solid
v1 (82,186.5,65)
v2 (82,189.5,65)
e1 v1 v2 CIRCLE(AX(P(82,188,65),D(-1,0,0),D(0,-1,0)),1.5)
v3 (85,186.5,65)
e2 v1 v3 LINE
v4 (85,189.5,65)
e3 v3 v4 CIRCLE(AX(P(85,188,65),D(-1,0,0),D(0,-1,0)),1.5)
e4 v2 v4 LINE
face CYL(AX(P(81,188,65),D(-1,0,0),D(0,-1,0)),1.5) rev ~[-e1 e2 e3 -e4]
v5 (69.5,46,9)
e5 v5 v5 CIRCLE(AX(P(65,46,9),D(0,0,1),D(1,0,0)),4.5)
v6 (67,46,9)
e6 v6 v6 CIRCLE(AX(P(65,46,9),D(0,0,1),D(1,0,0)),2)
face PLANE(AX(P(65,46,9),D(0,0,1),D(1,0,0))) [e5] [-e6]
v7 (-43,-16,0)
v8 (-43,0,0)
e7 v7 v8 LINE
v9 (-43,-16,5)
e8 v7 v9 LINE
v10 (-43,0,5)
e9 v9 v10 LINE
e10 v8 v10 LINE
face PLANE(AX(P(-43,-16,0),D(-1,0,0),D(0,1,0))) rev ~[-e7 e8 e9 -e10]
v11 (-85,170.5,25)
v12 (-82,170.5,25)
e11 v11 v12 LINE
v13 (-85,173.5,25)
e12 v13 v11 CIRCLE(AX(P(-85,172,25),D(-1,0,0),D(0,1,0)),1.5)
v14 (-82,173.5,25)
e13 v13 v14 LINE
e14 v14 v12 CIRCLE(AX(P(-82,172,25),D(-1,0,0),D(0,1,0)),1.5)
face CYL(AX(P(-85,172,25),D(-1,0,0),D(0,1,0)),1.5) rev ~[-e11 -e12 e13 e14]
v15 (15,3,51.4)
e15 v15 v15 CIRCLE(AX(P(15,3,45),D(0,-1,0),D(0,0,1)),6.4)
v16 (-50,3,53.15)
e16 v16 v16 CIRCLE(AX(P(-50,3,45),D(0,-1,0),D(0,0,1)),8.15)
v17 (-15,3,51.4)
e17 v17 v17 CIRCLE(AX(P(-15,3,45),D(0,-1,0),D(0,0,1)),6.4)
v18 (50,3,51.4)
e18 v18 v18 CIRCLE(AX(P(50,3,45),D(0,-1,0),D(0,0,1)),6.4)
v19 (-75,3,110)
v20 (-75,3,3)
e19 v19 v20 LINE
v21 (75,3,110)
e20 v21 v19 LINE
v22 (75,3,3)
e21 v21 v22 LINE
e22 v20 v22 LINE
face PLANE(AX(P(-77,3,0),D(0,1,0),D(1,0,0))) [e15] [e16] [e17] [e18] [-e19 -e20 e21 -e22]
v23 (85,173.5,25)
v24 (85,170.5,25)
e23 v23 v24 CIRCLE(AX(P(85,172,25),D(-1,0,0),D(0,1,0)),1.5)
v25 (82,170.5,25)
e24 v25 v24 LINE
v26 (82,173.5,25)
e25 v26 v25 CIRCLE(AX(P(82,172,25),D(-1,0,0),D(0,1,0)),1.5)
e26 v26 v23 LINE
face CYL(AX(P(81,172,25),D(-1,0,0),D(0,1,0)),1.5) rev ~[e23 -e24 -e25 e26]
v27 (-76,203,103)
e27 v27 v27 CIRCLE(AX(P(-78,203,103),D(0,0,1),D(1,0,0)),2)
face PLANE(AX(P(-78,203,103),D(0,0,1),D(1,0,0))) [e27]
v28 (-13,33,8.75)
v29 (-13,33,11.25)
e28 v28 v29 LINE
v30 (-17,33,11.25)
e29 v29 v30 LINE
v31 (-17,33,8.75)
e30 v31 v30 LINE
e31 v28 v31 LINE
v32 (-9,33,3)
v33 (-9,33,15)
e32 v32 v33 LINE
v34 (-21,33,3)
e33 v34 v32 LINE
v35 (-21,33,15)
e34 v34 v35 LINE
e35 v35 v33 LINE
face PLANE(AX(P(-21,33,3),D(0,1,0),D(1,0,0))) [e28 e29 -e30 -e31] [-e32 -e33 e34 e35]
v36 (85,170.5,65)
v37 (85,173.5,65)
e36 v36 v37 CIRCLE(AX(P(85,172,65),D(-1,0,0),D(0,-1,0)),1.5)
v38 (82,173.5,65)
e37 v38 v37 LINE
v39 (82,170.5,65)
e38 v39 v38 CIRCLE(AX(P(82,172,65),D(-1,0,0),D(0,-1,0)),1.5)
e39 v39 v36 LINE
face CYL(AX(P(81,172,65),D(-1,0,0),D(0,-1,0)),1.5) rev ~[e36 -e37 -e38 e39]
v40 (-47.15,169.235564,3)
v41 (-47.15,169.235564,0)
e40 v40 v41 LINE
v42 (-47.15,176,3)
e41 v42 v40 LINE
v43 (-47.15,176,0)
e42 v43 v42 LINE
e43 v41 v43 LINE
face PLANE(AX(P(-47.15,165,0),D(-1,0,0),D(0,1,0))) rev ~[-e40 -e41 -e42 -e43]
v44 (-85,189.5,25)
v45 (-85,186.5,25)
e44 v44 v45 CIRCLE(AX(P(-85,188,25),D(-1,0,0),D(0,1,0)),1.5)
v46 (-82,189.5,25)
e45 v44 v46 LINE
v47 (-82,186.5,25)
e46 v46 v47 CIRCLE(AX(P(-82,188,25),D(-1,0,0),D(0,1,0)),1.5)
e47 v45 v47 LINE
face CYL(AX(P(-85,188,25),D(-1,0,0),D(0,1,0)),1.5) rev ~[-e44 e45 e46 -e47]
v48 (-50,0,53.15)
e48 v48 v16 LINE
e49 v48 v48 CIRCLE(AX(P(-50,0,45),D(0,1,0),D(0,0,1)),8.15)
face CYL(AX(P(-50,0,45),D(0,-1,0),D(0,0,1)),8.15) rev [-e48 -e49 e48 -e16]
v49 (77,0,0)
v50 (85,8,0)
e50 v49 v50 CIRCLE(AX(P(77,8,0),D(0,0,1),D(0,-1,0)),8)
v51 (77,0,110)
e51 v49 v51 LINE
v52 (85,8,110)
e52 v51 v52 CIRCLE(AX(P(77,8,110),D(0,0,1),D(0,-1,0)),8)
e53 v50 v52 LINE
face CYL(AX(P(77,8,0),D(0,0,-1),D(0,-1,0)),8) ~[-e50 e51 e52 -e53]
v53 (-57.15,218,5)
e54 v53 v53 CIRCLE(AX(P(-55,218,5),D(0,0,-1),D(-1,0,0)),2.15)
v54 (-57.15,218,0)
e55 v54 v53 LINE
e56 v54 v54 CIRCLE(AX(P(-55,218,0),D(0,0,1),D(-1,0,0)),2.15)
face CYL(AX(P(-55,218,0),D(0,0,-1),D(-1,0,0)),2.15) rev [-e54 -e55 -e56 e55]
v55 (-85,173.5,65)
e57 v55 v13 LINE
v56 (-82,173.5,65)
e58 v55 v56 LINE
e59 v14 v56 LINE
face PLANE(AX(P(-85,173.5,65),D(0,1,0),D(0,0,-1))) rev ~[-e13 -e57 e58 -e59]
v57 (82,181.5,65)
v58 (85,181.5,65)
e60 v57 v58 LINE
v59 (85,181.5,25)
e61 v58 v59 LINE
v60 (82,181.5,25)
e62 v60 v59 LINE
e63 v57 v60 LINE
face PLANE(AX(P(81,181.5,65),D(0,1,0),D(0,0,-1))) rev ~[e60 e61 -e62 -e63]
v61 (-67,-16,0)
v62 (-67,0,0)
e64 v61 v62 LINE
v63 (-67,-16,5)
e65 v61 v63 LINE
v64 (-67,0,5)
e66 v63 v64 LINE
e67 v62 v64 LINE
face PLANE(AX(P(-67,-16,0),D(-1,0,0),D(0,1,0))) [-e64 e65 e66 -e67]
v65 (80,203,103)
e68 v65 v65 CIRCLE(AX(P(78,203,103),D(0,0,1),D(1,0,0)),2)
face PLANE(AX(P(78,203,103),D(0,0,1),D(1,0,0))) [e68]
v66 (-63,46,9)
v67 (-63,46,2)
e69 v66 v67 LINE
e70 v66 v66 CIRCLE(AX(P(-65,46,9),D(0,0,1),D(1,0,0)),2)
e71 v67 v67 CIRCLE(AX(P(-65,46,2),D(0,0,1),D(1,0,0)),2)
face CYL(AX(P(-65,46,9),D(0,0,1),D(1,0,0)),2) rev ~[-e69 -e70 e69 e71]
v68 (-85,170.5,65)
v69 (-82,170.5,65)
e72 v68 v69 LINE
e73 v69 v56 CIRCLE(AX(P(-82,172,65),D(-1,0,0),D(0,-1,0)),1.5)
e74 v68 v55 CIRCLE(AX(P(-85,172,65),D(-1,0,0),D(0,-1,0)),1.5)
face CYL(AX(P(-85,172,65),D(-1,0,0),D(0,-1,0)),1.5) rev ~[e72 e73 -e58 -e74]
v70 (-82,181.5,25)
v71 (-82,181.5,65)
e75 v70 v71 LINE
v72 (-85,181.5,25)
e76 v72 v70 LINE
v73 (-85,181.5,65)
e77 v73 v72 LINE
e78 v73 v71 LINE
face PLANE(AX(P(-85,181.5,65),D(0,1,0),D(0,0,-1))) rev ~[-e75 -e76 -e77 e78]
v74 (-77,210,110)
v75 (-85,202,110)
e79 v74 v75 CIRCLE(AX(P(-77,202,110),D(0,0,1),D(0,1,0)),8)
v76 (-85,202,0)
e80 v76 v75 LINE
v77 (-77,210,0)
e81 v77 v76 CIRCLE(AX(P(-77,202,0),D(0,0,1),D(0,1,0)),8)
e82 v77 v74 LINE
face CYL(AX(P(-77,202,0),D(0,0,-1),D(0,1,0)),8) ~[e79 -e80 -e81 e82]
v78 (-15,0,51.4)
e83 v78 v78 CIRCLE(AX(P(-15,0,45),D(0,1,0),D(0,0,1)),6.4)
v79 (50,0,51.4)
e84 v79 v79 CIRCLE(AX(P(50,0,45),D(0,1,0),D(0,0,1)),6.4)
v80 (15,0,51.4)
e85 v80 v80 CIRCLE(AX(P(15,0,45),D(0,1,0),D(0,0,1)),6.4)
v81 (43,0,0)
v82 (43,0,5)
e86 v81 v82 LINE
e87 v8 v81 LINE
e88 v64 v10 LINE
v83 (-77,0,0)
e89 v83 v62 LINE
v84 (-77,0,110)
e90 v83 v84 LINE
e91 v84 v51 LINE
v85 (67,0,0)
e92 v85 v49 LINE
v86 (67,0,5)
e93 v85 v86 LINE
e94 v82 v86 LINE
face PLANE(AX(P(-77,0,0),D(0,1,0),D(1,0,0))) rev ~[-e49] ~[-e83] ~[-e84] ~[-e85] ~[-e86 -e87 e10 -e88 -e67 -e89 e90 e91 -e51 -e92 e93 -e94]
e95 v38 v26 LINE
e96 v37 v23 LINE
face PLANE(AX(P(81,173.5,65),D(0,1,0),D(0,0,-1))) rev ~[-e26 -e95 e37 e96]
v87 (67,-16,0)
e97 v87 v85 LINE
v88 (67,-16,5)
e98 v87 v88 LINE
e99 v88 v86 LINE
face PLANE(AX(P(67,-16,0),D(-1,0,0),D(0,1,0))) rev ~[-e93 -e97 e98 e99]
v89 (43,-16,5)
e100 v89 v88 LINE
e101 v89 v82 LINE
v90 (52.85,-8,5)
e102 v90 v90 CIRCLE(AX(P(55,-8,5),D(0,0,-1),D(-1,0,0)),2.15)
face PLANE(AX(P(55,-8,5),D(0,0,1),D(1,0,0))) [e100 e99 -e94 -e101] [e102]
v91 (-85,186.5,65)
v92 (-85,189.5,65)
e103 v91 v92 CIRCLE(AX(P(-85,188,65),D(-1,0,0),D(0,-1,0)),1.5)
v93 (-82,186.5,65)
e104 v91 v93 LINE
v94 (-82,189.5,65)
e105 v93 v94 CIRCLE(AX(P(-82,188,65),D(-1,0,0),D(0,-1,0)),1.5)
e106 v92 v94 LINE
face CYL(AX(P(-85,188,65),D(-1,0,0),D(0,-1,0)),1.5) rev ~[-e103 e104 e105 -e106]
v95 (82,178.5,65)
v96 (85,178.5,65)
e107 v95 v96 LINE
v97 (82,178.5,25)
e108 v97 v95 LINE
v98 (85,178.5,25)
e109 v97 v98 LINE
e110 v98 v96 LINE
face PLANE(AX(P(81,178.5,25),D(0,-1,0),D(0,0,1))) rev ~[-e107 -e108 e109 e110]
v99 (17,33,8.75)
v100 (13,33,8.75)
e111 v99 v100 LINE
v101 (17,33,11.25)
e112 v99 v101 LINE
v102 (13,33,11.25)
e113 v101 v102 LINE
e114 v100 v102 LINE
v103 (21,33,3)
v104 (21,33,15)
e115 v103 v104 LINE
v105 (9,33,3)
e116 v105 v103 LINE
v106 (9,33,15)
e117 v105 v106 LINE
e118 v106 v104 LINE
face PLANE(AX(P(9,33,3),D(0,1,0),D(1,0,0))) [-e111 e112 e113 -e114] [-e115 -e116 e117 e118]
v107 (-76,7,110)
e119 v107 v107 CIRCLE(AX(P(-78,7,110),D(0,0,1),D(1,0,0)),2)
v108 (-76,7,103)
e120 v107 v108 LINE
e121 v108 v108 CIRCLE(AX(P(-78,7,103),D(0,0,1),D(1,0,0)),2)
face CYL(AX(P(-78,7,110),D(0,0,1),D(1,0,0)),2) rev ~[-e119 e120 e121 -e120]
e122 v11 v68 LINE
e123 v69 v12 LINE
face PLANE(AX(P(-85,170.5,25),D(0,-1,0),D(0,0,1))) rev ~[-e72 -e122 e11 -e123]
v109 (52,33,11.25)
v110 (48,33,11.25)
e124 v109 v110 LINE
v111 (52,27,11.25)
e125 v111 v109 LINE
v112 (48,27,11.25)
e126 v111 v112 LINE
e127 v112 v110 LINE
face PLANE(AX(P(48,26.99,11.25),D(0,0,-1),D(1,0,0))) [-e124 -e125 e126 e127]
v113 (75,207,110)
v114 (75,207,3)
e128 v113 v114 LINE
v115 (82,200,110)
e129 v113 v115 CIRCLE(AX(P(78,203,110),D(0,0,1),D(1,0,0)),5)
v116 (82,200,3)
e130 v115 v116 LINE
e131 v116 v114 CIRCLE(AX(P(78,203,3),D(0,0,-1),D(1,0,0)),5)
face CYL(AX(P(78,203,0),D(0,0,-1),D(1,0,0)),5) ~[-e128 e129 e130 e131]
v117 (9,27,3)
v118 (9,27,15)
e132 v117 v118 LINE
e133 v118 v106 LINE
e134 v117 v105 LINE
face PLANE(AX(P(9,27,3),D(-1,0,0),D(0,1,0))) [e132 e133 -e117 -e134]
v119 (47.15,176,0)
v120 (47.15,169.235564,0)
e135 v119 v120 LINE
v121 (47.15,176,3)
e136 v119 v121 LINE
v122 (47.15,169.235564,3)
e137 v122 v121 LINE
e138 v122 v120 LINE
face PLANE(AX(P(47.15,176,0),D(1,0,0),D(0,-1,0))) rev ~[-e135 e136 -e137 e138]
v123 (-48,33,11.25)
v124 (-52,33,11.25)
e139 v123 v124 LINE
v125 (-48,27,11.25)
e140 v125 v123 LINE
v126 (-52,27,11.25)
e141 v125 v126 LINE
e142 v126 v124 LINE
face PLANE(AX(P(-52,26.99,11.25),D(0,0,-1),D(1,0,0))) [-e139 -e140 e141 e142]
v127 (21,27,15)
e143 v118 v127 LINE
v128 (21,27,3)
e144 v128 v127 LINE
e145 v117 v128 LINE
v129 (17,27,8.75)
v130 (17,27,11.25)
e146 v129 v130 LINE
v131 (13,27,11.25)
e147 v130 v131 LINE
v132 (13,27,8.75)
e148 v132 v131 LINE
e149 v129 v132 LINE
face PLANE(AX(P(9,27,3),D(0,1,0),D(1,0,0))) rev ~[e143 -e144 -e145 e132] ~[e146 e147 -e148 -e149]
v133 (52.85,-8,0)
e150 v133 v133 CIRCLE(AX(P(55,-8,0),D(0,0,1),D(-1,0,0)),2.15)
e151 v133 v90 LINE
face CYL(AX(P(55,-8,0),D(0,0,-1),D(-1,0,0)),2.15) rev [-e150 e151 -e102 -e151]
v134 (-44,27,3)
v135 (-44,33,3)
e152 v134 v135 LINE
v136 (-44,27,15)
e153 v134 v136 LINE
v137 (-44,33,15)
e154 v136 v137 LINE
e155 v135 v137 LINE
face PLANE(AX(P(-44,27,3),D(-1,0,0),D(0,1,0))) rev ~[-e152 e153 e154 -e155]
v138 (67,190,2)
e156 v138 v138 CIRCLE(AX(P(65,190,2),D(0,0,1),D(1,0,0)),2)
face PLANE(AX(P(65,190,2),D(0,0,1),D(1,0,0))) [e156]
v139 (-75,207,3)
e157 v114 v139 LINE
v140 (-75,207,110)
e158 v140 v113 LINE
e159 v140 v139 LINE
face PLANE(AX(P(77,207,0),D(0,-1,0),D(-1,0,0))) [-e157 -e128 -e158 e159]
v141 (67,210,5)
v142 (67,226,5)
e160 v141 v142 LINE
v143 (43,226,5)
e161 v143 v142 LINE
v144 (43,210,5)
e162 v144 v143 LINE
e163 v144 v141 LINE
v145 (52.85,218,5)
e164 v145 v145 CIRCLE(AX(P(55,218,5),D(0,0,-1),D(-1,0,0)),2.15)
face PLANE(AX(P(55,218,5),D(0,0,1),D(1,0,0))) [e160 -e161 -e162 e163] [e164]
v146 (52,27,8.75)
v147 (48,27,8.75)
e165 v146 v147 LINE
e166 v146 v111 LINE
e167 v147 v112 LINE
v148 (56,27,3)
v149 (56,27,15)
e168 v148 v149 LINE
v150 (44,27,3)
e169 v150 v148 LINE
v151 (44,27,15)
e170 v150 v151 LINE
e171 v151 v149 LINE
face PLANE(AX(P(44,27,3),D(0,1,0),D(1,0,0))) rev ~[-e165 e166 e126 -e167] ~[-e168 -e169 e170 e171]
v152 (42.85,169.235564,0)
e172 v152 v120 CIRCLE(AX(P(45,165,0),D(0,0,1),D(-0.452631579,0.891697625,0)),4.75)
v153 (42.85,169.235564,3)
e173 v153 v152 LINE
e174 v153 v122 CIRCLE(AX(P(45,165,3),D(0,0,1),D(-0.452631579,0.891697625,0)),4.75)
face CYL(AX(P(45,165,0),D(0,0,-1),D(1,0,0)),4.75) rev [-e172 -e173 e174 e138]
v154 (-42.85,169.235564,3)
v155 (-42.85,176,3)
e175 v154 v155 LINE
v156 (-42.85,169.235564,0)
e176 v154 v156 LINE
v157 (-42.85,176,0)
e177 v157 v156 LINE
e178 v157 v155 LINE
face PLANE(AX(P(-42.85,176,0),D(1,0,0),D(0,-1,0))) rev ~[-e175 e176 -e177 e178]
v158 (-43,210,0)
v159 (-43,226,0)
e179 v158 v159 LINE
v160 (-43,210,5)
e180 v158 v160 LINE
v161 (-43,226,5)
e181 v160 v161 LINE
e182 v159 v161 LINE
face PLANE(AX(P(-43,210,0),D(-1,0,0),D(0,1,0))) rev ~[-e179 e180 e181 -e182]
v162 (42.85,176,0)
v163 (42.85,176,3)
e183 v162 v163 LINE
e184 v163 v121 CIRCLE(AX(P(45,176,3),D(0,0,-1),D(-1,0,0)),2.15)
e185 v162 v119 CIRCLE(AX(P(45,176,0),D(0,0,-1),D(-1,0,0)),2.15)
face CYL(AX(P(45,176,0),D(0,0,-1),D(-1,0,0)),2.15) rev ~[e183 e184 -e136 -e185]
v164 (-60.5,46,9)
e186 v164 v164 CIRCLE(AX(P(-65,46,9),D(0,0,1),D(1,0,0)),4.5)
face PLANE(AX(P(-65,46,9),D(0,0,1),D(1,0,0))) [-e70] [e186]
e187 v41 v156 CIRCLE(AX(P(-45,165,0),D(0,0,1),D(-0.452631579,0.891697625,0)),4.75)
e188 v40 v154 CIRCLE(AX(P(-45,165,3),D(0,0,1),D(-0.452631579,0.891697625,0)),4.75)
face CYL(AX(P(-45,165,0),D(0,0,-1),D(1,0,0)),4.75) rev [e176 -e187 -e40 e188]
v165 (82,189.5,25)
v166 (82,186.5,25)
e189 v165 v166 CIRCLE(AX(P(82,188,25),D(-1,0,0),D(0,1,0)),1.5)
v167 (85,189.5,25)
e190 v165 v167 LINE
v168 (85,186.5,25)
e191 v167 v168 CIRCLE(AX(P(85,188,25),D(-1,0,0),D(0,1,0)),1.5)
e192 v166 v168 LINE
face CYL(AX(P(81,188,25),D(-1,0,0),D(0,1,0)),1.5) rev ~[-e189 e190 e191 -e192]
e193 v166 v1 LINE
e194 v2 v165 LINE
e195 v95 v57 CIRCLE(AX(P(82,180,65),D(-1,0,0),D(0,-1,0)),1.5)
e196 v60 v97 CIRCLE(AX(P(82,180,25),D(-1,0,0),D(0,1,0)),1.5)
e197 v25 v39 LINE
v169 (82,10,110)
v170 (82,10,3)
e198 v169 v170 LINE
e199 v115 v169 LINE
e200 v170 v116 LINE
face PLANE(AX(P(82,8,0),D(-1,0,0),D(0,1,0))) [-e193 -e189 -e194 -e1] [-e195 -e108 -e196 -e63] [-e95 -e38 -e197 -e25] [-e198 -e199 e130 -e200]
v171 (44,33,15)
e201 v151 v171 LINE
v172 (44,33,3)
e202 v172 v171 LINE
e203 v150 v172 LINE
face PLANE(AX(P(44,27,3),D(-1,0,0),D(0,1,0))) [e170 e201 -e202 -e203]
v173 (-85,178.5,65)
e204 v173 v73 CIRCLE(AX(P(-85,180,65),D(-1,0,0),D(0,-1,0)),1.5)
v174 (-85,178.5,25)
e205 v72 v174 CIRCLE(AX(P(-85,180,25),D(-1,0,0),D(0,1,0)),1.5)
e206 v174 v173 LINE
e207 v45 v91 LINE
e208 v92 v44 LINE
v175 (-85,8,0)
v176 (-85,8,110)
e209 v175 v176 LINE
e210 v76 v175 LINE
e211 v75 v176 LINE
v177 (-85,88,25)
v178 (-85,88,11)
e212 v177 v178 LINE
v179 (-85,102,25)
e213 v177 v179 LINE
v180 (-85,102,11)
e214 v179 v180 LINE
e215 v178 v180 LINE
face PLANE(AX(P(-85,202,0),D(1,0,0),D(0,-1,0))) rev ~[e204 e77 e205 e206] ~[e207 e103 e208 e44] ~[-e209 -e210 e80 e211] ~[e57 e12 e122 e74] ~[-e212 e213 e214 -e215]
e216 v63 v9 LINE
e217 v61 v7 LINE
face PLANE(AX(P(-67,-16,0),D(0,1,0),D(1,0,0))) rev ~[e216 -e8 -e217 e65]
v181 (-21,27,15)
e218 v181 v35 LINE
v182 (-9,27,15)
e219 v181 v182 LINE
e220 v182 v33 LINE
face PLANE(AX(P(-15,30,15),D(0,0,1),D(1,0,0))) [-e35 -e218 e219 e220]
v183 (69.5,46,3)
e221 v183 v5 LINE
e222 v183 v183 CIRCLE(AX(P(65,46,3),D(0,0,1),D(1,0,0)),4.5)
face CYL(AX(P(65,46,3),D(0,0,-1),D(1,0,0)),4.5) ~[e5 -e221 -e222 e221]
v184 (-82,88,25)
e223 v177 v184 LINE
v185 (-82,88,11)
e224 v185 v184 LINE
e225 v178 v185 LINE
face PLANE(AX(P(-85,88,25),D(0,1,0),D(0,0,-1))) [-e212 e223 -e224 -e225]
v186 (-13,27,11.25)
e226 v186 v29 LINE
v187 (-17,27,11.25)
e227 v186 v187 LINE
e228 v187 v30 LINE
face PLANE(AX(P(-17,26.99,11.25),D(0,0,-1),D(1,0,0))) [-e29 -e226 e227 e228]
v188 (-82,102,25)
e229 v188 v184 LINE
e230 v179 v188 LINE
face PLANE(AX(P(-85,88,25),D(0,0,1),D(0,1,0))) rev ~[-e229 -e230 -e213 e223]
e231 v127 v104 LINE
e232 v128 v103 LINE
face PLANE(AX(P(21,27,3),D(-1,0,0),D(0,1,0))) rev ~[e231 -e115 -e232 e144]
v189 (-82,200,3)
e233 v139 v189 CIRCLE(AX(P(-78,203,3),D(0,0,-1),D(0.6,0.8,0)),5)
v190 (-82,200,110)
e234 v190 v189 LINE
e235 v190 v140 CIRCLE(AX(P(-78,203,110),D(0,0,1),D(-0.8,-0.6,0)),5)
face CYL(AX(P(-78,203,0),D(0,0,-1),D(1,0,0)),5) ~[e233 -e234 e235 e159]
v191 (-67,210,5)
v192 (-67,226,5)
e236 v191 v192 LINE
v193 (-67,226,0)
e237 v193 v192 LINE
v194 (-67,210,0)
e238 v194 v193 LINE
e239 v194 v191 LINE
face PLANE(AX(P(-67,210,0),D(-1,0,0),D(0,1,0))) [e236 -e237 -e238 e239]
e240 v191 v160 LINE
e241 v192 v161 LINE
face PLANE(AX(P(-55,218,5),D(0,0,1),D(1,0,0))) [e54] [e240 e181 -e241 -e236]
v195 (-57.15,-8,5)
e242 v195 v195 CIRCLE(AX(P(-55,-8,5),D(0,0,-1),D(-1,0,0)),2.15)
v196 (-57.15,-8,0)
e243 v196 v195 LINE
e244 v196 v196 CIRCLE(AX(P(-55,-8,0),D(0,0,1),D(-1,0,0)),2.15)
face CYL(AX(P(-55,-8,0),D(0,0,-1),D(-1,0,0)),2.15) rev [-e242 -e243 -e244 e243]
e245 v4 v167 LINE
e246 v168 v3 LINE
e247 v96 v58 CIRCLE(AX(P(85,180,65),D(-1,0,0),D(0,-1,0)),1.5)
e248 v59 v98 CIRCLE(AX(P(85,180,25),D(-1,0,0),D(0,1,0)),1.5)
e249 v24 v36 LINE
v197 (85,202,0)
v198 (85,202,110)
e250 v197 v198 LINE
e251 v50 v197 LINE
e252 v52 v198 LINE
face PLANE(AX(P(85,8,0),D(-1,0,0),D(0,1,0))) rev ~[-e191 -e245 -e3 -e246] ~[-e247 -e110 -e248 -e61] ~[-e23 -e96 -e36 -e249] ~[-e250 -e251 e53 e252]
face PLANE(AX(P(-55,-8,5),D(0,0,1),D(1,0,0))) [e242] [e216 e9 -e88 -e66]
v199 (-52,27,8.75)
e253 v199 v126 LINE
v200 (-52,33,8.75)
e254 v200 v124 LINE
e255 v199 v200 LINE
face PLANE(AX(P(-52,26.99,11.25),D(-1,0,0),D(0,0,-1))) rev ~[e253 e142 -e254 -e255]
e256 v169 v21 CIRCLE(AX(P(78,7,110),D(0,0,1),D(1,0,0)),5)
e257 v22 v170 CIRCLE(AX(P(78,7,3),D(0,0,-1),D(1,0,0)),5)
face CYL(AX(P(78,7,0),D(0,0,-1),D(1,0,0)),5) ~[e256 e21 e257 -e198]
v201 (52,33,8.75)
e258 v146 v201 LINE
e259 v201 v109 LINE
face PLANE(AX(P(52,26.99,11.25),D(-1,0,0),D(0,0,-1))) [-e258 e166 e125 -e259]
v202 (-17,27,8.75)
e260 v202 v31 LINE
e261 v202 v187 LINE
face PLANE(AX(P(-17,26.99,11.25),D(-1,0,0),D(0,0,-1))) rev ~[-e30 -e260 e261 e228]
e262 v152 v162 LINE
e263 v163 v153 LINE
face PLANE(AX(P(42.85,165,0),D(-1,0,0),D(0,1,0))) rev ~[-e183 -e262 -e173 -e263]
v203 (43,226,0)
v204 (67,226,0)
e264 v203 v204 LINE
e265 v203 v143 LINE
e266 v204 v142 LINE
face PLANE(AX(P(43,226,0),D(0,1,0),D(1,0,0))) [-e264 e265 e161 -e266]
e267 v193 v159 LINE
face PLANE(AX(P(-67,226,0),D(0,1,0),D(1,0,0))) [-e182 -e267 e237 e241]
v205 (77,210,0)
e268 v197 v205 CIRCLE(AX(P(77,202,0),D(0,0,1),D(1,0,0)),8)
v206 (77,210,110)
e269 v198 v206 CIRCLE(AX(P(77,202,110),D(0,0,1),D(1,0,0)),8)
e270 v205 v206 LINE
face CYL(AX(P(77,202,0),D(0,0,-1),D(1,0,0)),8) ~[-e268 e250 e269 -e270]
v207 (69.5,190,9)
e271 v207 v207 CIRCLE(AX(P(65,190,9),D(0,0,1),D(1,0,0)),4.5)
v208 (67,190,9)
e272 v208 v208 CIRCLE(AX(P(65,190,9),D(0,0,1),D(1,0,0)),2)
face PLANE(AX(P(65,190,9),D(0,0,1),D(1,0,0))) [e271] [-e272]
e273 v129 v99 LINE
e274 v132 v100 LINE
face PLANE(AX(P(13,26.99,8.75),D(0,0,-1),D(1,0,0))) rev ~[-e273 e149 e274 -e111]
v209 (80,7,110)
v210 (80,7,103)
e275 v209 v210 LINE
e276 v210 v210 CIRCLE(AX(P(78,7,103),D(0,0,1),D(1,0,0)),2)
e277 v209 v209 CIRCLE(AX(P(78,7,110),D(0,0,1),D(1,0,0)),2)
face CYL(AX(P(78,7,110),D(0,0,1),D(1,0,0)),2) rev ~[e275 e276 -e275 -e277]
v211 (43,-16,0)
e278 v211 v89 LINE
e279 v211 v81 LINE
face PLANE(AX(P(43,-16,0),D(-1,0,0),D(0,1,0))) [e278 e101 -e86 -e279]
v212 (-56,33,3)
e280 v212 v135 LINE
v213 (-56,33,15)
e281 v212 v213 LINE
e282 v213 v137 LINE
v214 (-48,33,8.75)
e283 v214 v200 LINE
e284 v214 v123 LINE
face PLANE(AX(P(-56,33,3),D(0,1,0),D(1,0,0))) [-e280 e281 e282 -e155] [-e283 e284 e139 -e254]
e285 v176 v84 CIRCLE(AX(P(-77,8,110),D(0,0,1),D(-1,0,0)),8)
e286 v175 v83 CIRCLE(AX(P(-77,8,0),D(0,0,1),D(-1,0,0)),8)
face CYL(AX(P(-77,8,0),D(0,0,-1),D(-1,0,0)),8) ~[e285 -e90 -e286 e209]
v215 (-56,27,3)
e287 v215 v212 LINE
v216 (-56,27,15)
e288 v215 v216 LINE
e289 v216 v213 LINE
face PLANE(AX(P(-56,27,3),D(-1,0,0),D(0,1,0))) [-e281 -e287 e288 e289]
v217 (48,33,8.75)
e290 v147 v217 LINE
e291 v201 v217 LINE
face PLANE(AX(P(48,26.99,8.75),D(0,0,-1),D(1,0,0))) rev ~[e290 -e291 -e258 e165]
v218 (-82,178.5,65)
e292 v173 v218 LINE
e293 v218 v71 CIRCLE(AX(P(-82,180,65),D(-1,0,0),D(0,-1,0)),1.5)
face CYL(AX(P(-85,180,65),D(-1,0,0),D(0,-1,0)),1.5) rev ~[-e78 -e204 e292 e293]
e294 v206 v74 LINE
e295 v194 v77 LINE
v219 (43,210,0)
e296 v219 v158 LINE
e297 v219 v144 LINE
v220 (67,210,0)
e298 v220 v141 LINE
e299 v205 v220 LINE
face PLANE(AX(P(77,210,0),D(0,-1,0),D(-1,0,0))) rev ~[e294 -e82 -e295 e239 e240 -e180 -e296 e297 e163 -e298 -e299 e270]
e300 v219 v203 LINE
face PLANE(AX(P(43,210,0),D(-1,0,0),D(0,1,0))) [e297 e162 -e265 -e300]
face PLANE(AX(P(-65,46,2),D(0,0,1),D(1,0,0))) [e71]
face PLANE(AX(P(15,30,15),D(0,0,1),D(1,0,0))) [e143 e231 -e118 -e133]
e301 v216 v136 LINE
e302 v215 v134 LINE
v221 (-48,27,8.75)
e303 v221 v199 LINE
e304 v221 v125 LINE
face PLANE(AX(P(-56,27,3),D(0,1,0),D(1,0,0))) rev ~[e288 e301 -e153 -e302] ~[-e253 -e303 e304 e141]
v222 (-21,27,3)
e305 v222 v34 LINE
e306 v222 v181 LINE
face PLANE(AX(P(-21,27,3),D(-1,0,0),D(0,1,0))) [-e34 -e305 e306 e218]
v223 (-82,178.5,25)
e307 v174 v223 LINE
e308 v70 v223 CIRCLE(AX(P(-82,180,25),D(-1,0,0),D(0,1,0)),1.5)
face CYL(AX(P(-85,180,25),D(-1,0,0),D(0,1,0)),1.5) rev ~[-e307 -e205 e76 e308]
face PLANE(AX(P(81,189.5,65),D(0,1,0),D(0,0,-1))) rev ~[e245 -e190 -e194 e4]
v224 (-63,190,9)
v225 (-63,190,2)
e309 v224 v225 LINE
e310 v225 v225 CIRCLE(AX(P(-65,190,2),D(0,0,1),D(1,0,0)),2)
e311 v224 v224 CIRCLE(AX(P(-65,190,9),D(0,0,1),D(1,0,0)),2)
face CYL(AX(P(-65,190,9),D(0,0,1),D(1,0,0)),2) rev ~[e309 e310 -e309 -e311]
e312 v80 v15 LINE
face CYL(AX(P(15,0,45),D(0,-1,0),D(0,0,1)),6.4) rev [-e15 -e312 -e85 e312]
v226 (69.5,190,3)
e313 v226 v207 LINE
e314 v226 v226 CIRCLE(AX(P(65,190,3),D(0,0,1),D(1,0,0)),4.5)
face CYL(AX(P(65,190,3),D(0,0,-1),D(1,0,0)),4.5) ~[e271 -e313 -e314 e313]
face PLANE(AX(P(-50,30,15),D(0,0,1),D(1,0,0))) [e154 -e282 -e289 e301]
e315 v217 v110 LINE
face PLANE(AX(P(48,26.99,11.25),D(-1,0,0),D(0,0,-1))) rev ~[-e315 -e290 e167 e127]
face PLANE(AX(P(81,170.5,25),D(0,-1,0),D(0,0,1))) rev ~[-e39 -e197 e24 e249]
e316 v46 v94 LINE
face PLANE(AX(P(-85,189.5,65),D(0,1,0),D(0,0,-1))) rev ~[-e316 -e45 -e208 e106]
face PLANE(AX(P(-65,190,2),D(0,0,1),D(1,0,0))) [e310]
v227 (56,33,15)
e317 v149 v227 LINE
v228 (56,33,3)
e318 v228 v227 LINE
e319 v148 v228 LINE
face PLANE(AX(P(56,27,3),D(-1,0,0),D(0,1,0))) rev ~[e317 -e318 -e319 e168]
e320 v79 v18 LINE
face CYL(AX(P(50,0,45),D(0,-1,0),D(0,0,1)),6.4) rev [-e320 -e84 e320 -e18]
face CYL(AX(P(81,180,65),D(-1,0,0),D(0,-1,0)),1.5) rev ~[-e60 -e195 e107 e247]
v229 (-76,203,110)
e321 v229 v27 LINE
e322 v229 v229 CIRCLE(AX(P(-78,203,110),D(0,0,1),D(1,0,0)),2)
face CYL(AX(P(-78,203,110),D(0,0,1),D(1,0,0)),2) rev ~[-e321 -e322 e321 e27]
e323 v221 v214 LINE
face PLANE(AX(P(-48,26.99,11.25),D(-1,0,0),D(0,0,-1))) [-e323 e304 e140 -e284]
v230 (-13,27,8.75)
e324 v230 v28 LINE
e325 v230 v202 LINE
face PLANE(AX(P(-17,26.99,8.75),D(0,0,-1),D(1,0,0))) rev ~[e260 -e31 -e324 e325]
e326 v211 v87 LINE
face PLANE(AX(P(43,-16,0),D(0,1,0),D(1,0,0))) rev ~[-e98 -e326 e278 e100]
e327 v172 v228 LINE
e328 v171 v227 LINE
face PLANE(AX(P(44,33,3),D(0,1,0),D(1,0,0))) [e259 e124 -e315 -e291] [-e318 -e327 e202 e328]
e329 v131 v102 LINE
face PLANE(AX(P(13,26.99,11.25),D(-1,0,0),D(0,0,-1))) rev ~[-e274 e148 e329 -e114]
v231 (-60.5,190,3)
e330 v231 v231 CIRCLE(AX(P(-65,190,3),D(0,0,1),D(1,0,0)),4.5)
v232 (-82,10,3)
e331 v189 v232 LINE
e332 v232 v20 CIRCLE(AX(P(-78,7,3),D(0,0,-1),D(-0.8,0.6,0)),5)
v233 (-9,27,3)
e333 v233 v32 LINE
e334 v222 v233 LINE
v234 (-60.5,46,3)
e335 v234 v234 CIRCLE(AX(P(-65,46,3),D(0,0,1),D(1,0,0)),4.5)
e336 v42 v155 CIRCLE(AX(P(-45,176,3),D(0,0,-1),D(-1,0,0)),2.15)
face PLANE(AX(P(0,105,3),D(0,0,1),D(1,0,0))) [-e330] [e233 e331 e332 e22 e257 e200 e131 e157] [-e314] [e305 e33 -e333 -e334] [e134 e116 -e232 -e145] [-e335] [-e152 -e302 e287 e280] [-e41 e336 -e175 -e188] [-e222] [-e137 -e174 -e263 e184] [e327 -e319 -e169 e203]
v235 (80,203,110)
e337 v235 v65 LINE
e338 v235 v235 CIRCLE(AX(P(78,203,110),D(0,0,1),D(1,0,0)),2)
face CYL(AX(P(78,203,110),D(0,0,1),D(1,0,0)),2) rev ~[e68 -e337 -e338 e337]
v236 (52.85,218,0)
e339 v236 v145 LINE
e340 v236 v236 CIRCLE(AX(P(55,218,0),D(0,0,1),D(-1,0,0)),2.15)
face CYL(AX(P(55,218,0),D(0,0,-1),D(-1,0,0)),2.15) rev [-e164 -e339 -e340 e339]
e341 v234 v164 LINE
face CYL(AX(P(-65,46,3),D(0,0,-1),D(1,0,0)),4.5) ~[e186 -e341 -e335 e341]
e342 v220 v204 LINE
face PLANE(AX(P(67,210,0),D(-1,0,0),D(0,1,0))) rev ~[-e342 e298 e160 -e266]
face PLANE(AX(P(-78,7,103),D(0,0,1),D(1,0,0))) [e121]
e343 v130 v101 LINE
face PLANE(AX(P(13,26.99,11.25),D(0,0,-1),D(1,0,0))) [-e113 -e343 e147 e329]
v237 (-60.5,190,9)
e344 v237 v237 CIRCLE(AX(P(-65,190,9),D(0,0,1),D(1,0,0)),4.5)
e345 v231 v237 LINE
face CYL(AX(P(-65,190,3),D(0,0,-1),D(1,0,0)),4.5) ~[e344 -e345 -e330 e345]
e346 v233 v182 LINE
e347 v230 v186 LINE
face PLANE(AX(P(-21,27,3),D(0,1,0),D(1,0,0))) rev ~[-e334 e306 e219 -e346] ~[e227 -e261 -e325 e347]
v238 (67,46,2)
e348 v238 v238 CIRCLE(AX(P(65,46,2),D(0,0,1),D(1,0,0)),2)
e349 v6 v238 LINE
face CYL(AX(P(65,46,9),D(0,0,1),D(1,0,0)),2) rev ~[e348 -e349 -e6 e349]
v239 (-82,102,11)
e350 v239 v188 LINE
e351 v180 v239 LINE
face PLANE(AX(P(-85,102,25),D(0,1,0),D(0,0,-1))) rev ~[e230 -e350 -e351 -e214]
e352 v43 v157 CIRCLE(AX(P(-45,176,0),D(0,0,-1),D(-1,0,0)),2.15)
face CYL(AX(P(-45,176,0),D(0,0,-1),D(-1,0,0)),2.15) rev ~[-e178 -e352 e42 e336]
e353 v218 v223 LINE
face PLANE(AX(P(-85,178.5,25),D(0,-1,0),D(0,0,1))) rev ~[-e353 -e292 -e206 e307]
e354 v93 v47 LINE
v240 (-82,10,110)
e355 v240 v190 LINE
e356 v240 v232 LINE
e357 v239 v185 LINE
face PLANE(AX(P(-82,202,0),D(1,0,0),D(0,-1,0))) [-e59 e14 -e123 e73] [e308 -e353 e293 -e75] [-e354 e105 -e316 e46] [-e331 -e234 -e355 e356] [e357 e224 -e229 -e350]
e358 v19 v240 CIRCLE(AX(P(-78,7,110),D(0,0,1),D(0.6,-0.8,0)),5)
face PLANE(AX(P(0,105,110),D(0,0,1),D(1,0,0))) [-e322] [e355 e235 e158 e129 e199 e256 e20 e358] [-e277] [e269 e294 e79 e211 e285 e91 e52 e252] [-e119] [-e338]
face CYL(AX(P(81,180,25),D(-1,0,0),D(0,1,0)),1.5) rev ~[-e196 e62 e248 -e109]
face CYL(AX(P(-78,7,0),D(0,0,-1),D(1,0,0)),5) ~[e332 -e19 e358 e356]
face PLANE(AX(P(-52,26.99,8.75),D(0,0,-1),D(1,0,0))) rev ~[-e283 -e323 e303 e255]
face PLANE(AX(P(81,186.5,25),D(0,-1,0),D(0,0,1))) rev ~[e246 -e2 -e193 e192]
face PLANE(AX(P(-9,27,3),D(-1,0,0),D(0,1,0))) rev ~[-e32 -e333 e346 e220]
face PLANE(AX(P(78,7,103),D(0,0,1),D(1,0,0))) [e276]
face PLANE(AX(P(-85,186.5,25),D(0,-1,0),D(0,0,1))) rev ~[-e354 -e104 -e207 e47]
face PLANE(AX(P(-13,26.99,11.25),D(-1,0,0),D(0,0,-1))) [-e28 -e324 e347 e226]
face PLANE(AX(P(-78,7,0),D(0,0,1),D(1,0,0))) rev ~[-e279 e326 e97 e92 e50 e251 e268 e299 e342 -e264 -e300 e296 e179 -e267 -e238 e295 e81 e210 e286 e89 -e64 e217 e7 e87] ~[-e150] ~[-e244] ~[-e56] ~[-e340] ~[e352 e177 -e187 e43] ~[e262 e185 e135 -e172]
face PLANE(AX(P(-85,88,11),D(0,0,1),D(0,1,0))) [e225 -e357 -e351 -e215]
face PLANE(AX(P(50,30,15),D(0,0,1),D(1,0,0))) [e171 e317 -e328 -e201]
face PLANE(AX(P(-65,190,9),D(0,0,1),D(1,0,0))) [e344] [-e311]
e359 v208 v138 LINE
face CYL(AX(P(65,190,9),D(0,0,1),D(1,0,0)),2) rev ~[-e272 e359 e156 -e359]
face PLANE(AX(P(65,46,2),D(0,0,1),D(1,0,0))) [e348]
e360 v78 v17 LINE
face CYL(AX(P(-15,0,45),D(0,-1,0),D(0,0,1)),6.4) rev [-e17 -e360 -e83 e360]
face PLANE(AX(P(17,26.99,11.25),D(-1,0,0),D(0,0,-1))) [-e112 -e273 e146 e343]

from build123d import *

# Parameters (mm, degrees)
BLOCK_DEPTH                    = 110
SHELL1_T                       = -3
SKETCH2_R                      = 5
CORNER_COLUMNS_DEPTH           = 110
SKETCH3_R                      = 2
FRONT_PANEL_INSERT_HOLES_DEPTH = 7
SKETCH4_R                      = 4.5
PLATE_BOSSES_DEPTH             = 6
SKETCH5_R                      = 2
PLATE_INSERT_HOLES_DEPTH       = 7
SKETCH6_R                      = 8.15
SKETCH6_R_2                    = 6.4
CABLE_GLAND_HOLES_DEPTH        = 4
SKETCH7_W                      = 12
SKETCH7_H                      = 6
CABLE_TIE_BARS_DEPTH           = 12
SKETCH8_W                      = 4
SKETCH8_H                      = 2.5
CABLE_TIE_SLOTS_DEPTH          = 6.02
SKETCH9_W                      = 14
SKETCH9_H                      = 14
USB_ACCESS_DEPTH               = 4
VENTS_LEFT_DEPTH               = 4
VENTS_START                    = -4
VENTS_RIGHT_DEPTH              = 4
SKETCH12_R                     = 4.75
KEYHOLE_HEADS_DEPTH            = 4
KEYHOLE_SLOTS_DEPTH            = 4
SKETCH14_W                     = 24
SKETCH14_H                     = 16
WALL_EARS_DEPTH                = 5
SKETCH15_R                     = 2.15
WALL_EAR_SCREW_HOLES_DEPTH     = 266.331867668


with BuildPart() as part:
    # Sketch1 → Block (new body)
    with BuildSketch(Plane.XY):
        with BuildLine():
            Line((-77, 0), (77, 0))
            ThreePointArc((77, 0), (82.656854249, 2.343145751), (85, 8))
            Line((85, 8), (85, 202))
            ThreePointArc((85, 202), (82.656854249, 207.656854249), (77, 210))
            Line((77, 210), (-77, 210))
            ThreePointArc((-77, 210), (-82.656854249, 207.656854249), (-85, 202))
            Line((-85, 202), (-85, 8))
            ThreePointArc((-85, 8), (-82.656854249, 2.343145751), (-77, 0))
        make_face()
    extrude(amount=BLOCK_DEPTH)

    # Shell1
    shell1_openings = [part.faces().sort_by_distance(p)[0] for p in [
        (0, 105, 110),
    ]]
    offset(amount=SHELL1_T, openings=shell1_openings, kind=Kind.INTERSECTION)

    # Sketch2 → Corner columns (add)
    with BuildSketch(Plane.XY):
        with Locations((-78, 7)):
            Circle(SKETCH2_R)
        with Locations((78, 7)):
            Circle(SKETCH2_R)
        with Locations((-78, 203)):
            Circle(SKETCH2_R)
        with Locations((78, 203)):
            Circle(SKETCH2_R)
    extrude(amount=CORNER_COLUMNS_DEPTH)

    # Sketch3 → Front panel insert holes (cut)
    with BuildSketch(Plane.XY.offset(110)):
        with Locations((-78, 7)):
            Circle(SKETCH3_R)
        with Locations((78, 7)):
            Circle(SKETCH3_R)
        with Locations((-78, 203)):
            Circle(SKETCH3_R)
        with Locations((78, 203)):
            Circle(SKETCH3_R)
    extrude(amount=-FRONT_PANEL_INSERT_HOLES_DEPTH, mode=Mode.SUBTRACT)

    # Sketch4 → Plate bosses (add)
    with BuildSketch(Plane.XY.offset(3)):
        with Locations((-65, 46)):
            Circle(SKETCH4_R)
        with Locations((65, 46)):
            Circle(SKETCH4_R)
        with Locations((-65, 190)):
            Circle(SKETCH4_R)
        with Locations((65, 190)):
            Circle(SKETCH4_R)
    extrude(amount=PLATE_BOSSES_DEPTH)

    # Sketch5 → Plate insert holes (cut)
    with BuildSketch(Plane.XY.offset(9)):
        with Locations((-65, 46)):
            Circle(SKETCH5_R)
        with Locations((65, 46)):
            Circle(SKETCH5_R)
        with Locations((-65, 190)):
            Circle(SKETCH5_R)
        with Locations((65, 190)):
            Circle(SKETCH5_R)
    extrude(amount=-PLATE_INSERT_HOLES_DEPTH, mode=Mode.SUBTRACT)

    # Sketch6 → Cable gland holes (cut)
    with BuildSketch(Plane(origin=(0, 0, 0), x_dir=(1, 0, 0), z_dir=(0, 1, 0))):
        with Locations(Location((-50, -45, 0), (0, 0, 270))):
            Circle(SKETCH6_R)
        with Locations(Location((-15, -45, 0), (0, 0, 270))):
            Circle(SKETCH6_R_2)
        with Locations(Location((15, -45, 0), (0, 0, 270))):
            Circle(SKETCH6_R_2)
        with Locations(Location((50, -45, 0), (0, 0, 270))):
            Circle(SKETCH6_R_2)
    extrude(amount=CABLE_GLAND_HOLES_DEPTH, mode=Mode.SUBTRACT)

    # Sketch7 → Cable tie bars (add)
    with BuildSketch(Plane.XY.offset(3)):
        with Locations((-50, 30)):
            Rectangle(SKETCH7_W, SKETCH7_H)
        with Locations((-15, 30)):
            Rectangle(SKETCH7_W, SKETCH7_H)
        with Locations((15, 30)):
            Rectangle(SKETCH7_W, SKETCH7_H)
        with Locations((50, 30)):
            Rectangle(SKETCH7_W, SKETCH7_H)
    extrude(amount=CABLE_TIE_BARS_DEPTH)

    # Sketch8 → Cable tie slots (cut)
    with BuildSketch(Plane(origin=(0, 26.99, 0), x_dir=(1, 0, 0), z_dir=(0, 1, 0))):
        with Locations((-50, -10)):
            Rectangle(SKETCH8_W, SKETCH8_H)
        with Locations((-15, -10)):
            Rectangle(SKETCH8_W, SKETCH8_H)
        with Locations((15, -10)):
            Rectangle(SKETCH8_W, SKETCH8_H)
        with Locations((50, -10)):
            Rectangle(SKETCH8_W, SKETCH8_H)
    extrude(amount=CABLE_TIE_SLOTS_DEPTH, mode=Mode.SUBTRACT)

    # Sketch9 → USB access (cut)
    with BuildSketch(Plane(origin=(-85, 0, 0), x_dir=(0, 0, -1), z_dir=(1, 0, 0))):
        with Locations((-18, 95)):
            Rectangle(SKETCH9_W, SKETCH9_H)
    extrude(amount=USB_ACCESS_DEPTH, mode=Mode.SUBTRACT)

    # Sketch10 → Vents left (cut)
    with BuildSketch(Plane(origin=(-85, 0, 0), x_dir=(0, 0, -1), z_dir=(1, 0, 0))):
        with BuildLine():
            Line((-25, 170.5), (-65, 170.5))
            ThreePointArc((-65, 170.5), (-66.5, 172), (-65, 173.5))
            Line((-65, 173.5), (-25, 173.5))
            ThreePointArc((-25, 173.5), (-23.5, 172), (-25, 170.5))
        make_face()
        with BuildLine():
            Line((-25, 178.5), (-65, 178.5))
            ThreePointArc((-65, 178.5), (-66.5, 180), (-65, 181.5))
            Line((-65, 181.5), (-25, 181.5))
            ThreePointArc((-25, 181.5), (-23.5, 180), (-25, 178.5))
        make_face()
        with BuildLine():
            Line((-25, 186.5), (-65, 186.5))
            ThreePointArc((-65, 186.5), (-66.5, 188), (-65, 189.5))
            Line((-65, 189.5), (-25, 189.5))
            ThreePointArc((-25, 189.5), (-23.5, 188), (-25, 186.5))
        make_face()
    extrude(amount=VENTS_LEFT_DEPTH, mode=Mode.SUBTRACT)

    # Sketch11 → Vents right (cut)
    with BuildSketch(Plane(origin=(85, 0, 0), x_dir=(0, 0, -1), z_dir=(1, 0, 0)).offset(VENTS_START)):
        with BuildLine():
            Line((-25, 170.5), (-65, 170.5))
            ThreePointArc((-65, 170.5), (-66.5, 172), (-65, 173.5))
            Line((-65, 173.5), (-25, 173.5))
            ThreePointArc((-25, 173.5), (-23.5, 172), (-25, 170.5))
        make_face()
        with BuildLine():
            Line((-25, 178.5), (-65, 178.5))
            ThreePointArc((-65, 178.5), (-66.5, 180), (-65, 181.5))
            Line((-65, 181.5), (-25, 181.5))
            ThreePointArc((-25, 181.5), (-23.5, 180), (-25, 178.5))
        make_face()
        with BuildLine():
            Line((-25, 186.5), (-65, 186.5))
            ThreePointArc((-65, 186.5), (-66.5, 188), (-65, 189.5))
            Line((-65, 189.5), (-25, 189.5))
            ThreePointArc((-25, 189.5), (-23.5, 188), (-25, 186.5))
        make_face()
    extrude(amount=VENTS_RIGHT_DEPTH, mode=Mode.SUBTRACT)

    # Sketch12 → Keyhole heads (cut)
    with BuildSketch(Plane.XY):
        with Locations((-45, 165)):
            Circle(SKETCH12_R)
        with Locations((45, 165)):
            Circle(SKETCH12_R)
    extrude(amount=KEYHOLE_HEADS_DEPTH, mode=Mode.SUBTRACT)

    # Sketch13 → Keyhole slots (cut)
    with BuildSketch(Plane.XY):
        with BuildLine():
            Line((-47.15, 165), (-47.15, 176))
            ThreePointArc((-47.15, 176), (-45, 178.15), (-42.85, 176))
            Line((-42.85, 176), (-42.85, 165))
            ThreePointArc((-42.85, 165), (-45, 162.85), (-47.15, 165))
        make_face()
        with BuildLine():
            Line((42.85, 165), (42.85, 176))
            ThreePointArc((42.85, 176), (45, 178.15), (47.15, 176))
            Line((47.15, 176), (47.15, 165))
            ThreePointArc((47.15, 165), (45, 162.85), (42.85, 165))
        make_face()
    extrude(amount=KEYHOLE_SLOTS_DEPTH, mode=Mode.SUBTRACT)

    # Sketch14 → Wall ears (add)
    with BuildSketch(Plane.XY):
        with Locations((-55, -8)):
            Rectangle(SKETCH14_W, SKETCH14_H)
        with Locations((-55, 218)):
            Rectangle(SKETCH14_W, SKETCH14_H)
        with Locations((55, -8)):
            Rectangle(SKETCH14_W, SKETCH14_H)
        with Locations((55, 218)):
            Rectangle(SKETCH14_W, SKETCH14_H)
    extrude(amount=WALL_EARS_DEPTH)

    # Sketch15 → Wall ear screw holes (cut, through all)
    with BuildSketch(Plane.XY):
        with Locations(Location((-55, -8, 0), (0, 0, 180))):
            Circle(SKETCH15_R)
        with Locations(Location((-55, 218, 0), (0, 0, 180))):
            Circle(SKETCH15_R)
        with Locations(Location((55, -8, 0), (0, 0, 180))):
            Circle(SKETCH15_R)
        with Locations(Location((55, 218, 0), (0, 0, 180))):
            Circle(SKETCH15_R)
    extrude(amount=WALL_EAR_SCREW_HOLES_DEPTH, mode=Mode.SUBTRACT)


solid = part.part
